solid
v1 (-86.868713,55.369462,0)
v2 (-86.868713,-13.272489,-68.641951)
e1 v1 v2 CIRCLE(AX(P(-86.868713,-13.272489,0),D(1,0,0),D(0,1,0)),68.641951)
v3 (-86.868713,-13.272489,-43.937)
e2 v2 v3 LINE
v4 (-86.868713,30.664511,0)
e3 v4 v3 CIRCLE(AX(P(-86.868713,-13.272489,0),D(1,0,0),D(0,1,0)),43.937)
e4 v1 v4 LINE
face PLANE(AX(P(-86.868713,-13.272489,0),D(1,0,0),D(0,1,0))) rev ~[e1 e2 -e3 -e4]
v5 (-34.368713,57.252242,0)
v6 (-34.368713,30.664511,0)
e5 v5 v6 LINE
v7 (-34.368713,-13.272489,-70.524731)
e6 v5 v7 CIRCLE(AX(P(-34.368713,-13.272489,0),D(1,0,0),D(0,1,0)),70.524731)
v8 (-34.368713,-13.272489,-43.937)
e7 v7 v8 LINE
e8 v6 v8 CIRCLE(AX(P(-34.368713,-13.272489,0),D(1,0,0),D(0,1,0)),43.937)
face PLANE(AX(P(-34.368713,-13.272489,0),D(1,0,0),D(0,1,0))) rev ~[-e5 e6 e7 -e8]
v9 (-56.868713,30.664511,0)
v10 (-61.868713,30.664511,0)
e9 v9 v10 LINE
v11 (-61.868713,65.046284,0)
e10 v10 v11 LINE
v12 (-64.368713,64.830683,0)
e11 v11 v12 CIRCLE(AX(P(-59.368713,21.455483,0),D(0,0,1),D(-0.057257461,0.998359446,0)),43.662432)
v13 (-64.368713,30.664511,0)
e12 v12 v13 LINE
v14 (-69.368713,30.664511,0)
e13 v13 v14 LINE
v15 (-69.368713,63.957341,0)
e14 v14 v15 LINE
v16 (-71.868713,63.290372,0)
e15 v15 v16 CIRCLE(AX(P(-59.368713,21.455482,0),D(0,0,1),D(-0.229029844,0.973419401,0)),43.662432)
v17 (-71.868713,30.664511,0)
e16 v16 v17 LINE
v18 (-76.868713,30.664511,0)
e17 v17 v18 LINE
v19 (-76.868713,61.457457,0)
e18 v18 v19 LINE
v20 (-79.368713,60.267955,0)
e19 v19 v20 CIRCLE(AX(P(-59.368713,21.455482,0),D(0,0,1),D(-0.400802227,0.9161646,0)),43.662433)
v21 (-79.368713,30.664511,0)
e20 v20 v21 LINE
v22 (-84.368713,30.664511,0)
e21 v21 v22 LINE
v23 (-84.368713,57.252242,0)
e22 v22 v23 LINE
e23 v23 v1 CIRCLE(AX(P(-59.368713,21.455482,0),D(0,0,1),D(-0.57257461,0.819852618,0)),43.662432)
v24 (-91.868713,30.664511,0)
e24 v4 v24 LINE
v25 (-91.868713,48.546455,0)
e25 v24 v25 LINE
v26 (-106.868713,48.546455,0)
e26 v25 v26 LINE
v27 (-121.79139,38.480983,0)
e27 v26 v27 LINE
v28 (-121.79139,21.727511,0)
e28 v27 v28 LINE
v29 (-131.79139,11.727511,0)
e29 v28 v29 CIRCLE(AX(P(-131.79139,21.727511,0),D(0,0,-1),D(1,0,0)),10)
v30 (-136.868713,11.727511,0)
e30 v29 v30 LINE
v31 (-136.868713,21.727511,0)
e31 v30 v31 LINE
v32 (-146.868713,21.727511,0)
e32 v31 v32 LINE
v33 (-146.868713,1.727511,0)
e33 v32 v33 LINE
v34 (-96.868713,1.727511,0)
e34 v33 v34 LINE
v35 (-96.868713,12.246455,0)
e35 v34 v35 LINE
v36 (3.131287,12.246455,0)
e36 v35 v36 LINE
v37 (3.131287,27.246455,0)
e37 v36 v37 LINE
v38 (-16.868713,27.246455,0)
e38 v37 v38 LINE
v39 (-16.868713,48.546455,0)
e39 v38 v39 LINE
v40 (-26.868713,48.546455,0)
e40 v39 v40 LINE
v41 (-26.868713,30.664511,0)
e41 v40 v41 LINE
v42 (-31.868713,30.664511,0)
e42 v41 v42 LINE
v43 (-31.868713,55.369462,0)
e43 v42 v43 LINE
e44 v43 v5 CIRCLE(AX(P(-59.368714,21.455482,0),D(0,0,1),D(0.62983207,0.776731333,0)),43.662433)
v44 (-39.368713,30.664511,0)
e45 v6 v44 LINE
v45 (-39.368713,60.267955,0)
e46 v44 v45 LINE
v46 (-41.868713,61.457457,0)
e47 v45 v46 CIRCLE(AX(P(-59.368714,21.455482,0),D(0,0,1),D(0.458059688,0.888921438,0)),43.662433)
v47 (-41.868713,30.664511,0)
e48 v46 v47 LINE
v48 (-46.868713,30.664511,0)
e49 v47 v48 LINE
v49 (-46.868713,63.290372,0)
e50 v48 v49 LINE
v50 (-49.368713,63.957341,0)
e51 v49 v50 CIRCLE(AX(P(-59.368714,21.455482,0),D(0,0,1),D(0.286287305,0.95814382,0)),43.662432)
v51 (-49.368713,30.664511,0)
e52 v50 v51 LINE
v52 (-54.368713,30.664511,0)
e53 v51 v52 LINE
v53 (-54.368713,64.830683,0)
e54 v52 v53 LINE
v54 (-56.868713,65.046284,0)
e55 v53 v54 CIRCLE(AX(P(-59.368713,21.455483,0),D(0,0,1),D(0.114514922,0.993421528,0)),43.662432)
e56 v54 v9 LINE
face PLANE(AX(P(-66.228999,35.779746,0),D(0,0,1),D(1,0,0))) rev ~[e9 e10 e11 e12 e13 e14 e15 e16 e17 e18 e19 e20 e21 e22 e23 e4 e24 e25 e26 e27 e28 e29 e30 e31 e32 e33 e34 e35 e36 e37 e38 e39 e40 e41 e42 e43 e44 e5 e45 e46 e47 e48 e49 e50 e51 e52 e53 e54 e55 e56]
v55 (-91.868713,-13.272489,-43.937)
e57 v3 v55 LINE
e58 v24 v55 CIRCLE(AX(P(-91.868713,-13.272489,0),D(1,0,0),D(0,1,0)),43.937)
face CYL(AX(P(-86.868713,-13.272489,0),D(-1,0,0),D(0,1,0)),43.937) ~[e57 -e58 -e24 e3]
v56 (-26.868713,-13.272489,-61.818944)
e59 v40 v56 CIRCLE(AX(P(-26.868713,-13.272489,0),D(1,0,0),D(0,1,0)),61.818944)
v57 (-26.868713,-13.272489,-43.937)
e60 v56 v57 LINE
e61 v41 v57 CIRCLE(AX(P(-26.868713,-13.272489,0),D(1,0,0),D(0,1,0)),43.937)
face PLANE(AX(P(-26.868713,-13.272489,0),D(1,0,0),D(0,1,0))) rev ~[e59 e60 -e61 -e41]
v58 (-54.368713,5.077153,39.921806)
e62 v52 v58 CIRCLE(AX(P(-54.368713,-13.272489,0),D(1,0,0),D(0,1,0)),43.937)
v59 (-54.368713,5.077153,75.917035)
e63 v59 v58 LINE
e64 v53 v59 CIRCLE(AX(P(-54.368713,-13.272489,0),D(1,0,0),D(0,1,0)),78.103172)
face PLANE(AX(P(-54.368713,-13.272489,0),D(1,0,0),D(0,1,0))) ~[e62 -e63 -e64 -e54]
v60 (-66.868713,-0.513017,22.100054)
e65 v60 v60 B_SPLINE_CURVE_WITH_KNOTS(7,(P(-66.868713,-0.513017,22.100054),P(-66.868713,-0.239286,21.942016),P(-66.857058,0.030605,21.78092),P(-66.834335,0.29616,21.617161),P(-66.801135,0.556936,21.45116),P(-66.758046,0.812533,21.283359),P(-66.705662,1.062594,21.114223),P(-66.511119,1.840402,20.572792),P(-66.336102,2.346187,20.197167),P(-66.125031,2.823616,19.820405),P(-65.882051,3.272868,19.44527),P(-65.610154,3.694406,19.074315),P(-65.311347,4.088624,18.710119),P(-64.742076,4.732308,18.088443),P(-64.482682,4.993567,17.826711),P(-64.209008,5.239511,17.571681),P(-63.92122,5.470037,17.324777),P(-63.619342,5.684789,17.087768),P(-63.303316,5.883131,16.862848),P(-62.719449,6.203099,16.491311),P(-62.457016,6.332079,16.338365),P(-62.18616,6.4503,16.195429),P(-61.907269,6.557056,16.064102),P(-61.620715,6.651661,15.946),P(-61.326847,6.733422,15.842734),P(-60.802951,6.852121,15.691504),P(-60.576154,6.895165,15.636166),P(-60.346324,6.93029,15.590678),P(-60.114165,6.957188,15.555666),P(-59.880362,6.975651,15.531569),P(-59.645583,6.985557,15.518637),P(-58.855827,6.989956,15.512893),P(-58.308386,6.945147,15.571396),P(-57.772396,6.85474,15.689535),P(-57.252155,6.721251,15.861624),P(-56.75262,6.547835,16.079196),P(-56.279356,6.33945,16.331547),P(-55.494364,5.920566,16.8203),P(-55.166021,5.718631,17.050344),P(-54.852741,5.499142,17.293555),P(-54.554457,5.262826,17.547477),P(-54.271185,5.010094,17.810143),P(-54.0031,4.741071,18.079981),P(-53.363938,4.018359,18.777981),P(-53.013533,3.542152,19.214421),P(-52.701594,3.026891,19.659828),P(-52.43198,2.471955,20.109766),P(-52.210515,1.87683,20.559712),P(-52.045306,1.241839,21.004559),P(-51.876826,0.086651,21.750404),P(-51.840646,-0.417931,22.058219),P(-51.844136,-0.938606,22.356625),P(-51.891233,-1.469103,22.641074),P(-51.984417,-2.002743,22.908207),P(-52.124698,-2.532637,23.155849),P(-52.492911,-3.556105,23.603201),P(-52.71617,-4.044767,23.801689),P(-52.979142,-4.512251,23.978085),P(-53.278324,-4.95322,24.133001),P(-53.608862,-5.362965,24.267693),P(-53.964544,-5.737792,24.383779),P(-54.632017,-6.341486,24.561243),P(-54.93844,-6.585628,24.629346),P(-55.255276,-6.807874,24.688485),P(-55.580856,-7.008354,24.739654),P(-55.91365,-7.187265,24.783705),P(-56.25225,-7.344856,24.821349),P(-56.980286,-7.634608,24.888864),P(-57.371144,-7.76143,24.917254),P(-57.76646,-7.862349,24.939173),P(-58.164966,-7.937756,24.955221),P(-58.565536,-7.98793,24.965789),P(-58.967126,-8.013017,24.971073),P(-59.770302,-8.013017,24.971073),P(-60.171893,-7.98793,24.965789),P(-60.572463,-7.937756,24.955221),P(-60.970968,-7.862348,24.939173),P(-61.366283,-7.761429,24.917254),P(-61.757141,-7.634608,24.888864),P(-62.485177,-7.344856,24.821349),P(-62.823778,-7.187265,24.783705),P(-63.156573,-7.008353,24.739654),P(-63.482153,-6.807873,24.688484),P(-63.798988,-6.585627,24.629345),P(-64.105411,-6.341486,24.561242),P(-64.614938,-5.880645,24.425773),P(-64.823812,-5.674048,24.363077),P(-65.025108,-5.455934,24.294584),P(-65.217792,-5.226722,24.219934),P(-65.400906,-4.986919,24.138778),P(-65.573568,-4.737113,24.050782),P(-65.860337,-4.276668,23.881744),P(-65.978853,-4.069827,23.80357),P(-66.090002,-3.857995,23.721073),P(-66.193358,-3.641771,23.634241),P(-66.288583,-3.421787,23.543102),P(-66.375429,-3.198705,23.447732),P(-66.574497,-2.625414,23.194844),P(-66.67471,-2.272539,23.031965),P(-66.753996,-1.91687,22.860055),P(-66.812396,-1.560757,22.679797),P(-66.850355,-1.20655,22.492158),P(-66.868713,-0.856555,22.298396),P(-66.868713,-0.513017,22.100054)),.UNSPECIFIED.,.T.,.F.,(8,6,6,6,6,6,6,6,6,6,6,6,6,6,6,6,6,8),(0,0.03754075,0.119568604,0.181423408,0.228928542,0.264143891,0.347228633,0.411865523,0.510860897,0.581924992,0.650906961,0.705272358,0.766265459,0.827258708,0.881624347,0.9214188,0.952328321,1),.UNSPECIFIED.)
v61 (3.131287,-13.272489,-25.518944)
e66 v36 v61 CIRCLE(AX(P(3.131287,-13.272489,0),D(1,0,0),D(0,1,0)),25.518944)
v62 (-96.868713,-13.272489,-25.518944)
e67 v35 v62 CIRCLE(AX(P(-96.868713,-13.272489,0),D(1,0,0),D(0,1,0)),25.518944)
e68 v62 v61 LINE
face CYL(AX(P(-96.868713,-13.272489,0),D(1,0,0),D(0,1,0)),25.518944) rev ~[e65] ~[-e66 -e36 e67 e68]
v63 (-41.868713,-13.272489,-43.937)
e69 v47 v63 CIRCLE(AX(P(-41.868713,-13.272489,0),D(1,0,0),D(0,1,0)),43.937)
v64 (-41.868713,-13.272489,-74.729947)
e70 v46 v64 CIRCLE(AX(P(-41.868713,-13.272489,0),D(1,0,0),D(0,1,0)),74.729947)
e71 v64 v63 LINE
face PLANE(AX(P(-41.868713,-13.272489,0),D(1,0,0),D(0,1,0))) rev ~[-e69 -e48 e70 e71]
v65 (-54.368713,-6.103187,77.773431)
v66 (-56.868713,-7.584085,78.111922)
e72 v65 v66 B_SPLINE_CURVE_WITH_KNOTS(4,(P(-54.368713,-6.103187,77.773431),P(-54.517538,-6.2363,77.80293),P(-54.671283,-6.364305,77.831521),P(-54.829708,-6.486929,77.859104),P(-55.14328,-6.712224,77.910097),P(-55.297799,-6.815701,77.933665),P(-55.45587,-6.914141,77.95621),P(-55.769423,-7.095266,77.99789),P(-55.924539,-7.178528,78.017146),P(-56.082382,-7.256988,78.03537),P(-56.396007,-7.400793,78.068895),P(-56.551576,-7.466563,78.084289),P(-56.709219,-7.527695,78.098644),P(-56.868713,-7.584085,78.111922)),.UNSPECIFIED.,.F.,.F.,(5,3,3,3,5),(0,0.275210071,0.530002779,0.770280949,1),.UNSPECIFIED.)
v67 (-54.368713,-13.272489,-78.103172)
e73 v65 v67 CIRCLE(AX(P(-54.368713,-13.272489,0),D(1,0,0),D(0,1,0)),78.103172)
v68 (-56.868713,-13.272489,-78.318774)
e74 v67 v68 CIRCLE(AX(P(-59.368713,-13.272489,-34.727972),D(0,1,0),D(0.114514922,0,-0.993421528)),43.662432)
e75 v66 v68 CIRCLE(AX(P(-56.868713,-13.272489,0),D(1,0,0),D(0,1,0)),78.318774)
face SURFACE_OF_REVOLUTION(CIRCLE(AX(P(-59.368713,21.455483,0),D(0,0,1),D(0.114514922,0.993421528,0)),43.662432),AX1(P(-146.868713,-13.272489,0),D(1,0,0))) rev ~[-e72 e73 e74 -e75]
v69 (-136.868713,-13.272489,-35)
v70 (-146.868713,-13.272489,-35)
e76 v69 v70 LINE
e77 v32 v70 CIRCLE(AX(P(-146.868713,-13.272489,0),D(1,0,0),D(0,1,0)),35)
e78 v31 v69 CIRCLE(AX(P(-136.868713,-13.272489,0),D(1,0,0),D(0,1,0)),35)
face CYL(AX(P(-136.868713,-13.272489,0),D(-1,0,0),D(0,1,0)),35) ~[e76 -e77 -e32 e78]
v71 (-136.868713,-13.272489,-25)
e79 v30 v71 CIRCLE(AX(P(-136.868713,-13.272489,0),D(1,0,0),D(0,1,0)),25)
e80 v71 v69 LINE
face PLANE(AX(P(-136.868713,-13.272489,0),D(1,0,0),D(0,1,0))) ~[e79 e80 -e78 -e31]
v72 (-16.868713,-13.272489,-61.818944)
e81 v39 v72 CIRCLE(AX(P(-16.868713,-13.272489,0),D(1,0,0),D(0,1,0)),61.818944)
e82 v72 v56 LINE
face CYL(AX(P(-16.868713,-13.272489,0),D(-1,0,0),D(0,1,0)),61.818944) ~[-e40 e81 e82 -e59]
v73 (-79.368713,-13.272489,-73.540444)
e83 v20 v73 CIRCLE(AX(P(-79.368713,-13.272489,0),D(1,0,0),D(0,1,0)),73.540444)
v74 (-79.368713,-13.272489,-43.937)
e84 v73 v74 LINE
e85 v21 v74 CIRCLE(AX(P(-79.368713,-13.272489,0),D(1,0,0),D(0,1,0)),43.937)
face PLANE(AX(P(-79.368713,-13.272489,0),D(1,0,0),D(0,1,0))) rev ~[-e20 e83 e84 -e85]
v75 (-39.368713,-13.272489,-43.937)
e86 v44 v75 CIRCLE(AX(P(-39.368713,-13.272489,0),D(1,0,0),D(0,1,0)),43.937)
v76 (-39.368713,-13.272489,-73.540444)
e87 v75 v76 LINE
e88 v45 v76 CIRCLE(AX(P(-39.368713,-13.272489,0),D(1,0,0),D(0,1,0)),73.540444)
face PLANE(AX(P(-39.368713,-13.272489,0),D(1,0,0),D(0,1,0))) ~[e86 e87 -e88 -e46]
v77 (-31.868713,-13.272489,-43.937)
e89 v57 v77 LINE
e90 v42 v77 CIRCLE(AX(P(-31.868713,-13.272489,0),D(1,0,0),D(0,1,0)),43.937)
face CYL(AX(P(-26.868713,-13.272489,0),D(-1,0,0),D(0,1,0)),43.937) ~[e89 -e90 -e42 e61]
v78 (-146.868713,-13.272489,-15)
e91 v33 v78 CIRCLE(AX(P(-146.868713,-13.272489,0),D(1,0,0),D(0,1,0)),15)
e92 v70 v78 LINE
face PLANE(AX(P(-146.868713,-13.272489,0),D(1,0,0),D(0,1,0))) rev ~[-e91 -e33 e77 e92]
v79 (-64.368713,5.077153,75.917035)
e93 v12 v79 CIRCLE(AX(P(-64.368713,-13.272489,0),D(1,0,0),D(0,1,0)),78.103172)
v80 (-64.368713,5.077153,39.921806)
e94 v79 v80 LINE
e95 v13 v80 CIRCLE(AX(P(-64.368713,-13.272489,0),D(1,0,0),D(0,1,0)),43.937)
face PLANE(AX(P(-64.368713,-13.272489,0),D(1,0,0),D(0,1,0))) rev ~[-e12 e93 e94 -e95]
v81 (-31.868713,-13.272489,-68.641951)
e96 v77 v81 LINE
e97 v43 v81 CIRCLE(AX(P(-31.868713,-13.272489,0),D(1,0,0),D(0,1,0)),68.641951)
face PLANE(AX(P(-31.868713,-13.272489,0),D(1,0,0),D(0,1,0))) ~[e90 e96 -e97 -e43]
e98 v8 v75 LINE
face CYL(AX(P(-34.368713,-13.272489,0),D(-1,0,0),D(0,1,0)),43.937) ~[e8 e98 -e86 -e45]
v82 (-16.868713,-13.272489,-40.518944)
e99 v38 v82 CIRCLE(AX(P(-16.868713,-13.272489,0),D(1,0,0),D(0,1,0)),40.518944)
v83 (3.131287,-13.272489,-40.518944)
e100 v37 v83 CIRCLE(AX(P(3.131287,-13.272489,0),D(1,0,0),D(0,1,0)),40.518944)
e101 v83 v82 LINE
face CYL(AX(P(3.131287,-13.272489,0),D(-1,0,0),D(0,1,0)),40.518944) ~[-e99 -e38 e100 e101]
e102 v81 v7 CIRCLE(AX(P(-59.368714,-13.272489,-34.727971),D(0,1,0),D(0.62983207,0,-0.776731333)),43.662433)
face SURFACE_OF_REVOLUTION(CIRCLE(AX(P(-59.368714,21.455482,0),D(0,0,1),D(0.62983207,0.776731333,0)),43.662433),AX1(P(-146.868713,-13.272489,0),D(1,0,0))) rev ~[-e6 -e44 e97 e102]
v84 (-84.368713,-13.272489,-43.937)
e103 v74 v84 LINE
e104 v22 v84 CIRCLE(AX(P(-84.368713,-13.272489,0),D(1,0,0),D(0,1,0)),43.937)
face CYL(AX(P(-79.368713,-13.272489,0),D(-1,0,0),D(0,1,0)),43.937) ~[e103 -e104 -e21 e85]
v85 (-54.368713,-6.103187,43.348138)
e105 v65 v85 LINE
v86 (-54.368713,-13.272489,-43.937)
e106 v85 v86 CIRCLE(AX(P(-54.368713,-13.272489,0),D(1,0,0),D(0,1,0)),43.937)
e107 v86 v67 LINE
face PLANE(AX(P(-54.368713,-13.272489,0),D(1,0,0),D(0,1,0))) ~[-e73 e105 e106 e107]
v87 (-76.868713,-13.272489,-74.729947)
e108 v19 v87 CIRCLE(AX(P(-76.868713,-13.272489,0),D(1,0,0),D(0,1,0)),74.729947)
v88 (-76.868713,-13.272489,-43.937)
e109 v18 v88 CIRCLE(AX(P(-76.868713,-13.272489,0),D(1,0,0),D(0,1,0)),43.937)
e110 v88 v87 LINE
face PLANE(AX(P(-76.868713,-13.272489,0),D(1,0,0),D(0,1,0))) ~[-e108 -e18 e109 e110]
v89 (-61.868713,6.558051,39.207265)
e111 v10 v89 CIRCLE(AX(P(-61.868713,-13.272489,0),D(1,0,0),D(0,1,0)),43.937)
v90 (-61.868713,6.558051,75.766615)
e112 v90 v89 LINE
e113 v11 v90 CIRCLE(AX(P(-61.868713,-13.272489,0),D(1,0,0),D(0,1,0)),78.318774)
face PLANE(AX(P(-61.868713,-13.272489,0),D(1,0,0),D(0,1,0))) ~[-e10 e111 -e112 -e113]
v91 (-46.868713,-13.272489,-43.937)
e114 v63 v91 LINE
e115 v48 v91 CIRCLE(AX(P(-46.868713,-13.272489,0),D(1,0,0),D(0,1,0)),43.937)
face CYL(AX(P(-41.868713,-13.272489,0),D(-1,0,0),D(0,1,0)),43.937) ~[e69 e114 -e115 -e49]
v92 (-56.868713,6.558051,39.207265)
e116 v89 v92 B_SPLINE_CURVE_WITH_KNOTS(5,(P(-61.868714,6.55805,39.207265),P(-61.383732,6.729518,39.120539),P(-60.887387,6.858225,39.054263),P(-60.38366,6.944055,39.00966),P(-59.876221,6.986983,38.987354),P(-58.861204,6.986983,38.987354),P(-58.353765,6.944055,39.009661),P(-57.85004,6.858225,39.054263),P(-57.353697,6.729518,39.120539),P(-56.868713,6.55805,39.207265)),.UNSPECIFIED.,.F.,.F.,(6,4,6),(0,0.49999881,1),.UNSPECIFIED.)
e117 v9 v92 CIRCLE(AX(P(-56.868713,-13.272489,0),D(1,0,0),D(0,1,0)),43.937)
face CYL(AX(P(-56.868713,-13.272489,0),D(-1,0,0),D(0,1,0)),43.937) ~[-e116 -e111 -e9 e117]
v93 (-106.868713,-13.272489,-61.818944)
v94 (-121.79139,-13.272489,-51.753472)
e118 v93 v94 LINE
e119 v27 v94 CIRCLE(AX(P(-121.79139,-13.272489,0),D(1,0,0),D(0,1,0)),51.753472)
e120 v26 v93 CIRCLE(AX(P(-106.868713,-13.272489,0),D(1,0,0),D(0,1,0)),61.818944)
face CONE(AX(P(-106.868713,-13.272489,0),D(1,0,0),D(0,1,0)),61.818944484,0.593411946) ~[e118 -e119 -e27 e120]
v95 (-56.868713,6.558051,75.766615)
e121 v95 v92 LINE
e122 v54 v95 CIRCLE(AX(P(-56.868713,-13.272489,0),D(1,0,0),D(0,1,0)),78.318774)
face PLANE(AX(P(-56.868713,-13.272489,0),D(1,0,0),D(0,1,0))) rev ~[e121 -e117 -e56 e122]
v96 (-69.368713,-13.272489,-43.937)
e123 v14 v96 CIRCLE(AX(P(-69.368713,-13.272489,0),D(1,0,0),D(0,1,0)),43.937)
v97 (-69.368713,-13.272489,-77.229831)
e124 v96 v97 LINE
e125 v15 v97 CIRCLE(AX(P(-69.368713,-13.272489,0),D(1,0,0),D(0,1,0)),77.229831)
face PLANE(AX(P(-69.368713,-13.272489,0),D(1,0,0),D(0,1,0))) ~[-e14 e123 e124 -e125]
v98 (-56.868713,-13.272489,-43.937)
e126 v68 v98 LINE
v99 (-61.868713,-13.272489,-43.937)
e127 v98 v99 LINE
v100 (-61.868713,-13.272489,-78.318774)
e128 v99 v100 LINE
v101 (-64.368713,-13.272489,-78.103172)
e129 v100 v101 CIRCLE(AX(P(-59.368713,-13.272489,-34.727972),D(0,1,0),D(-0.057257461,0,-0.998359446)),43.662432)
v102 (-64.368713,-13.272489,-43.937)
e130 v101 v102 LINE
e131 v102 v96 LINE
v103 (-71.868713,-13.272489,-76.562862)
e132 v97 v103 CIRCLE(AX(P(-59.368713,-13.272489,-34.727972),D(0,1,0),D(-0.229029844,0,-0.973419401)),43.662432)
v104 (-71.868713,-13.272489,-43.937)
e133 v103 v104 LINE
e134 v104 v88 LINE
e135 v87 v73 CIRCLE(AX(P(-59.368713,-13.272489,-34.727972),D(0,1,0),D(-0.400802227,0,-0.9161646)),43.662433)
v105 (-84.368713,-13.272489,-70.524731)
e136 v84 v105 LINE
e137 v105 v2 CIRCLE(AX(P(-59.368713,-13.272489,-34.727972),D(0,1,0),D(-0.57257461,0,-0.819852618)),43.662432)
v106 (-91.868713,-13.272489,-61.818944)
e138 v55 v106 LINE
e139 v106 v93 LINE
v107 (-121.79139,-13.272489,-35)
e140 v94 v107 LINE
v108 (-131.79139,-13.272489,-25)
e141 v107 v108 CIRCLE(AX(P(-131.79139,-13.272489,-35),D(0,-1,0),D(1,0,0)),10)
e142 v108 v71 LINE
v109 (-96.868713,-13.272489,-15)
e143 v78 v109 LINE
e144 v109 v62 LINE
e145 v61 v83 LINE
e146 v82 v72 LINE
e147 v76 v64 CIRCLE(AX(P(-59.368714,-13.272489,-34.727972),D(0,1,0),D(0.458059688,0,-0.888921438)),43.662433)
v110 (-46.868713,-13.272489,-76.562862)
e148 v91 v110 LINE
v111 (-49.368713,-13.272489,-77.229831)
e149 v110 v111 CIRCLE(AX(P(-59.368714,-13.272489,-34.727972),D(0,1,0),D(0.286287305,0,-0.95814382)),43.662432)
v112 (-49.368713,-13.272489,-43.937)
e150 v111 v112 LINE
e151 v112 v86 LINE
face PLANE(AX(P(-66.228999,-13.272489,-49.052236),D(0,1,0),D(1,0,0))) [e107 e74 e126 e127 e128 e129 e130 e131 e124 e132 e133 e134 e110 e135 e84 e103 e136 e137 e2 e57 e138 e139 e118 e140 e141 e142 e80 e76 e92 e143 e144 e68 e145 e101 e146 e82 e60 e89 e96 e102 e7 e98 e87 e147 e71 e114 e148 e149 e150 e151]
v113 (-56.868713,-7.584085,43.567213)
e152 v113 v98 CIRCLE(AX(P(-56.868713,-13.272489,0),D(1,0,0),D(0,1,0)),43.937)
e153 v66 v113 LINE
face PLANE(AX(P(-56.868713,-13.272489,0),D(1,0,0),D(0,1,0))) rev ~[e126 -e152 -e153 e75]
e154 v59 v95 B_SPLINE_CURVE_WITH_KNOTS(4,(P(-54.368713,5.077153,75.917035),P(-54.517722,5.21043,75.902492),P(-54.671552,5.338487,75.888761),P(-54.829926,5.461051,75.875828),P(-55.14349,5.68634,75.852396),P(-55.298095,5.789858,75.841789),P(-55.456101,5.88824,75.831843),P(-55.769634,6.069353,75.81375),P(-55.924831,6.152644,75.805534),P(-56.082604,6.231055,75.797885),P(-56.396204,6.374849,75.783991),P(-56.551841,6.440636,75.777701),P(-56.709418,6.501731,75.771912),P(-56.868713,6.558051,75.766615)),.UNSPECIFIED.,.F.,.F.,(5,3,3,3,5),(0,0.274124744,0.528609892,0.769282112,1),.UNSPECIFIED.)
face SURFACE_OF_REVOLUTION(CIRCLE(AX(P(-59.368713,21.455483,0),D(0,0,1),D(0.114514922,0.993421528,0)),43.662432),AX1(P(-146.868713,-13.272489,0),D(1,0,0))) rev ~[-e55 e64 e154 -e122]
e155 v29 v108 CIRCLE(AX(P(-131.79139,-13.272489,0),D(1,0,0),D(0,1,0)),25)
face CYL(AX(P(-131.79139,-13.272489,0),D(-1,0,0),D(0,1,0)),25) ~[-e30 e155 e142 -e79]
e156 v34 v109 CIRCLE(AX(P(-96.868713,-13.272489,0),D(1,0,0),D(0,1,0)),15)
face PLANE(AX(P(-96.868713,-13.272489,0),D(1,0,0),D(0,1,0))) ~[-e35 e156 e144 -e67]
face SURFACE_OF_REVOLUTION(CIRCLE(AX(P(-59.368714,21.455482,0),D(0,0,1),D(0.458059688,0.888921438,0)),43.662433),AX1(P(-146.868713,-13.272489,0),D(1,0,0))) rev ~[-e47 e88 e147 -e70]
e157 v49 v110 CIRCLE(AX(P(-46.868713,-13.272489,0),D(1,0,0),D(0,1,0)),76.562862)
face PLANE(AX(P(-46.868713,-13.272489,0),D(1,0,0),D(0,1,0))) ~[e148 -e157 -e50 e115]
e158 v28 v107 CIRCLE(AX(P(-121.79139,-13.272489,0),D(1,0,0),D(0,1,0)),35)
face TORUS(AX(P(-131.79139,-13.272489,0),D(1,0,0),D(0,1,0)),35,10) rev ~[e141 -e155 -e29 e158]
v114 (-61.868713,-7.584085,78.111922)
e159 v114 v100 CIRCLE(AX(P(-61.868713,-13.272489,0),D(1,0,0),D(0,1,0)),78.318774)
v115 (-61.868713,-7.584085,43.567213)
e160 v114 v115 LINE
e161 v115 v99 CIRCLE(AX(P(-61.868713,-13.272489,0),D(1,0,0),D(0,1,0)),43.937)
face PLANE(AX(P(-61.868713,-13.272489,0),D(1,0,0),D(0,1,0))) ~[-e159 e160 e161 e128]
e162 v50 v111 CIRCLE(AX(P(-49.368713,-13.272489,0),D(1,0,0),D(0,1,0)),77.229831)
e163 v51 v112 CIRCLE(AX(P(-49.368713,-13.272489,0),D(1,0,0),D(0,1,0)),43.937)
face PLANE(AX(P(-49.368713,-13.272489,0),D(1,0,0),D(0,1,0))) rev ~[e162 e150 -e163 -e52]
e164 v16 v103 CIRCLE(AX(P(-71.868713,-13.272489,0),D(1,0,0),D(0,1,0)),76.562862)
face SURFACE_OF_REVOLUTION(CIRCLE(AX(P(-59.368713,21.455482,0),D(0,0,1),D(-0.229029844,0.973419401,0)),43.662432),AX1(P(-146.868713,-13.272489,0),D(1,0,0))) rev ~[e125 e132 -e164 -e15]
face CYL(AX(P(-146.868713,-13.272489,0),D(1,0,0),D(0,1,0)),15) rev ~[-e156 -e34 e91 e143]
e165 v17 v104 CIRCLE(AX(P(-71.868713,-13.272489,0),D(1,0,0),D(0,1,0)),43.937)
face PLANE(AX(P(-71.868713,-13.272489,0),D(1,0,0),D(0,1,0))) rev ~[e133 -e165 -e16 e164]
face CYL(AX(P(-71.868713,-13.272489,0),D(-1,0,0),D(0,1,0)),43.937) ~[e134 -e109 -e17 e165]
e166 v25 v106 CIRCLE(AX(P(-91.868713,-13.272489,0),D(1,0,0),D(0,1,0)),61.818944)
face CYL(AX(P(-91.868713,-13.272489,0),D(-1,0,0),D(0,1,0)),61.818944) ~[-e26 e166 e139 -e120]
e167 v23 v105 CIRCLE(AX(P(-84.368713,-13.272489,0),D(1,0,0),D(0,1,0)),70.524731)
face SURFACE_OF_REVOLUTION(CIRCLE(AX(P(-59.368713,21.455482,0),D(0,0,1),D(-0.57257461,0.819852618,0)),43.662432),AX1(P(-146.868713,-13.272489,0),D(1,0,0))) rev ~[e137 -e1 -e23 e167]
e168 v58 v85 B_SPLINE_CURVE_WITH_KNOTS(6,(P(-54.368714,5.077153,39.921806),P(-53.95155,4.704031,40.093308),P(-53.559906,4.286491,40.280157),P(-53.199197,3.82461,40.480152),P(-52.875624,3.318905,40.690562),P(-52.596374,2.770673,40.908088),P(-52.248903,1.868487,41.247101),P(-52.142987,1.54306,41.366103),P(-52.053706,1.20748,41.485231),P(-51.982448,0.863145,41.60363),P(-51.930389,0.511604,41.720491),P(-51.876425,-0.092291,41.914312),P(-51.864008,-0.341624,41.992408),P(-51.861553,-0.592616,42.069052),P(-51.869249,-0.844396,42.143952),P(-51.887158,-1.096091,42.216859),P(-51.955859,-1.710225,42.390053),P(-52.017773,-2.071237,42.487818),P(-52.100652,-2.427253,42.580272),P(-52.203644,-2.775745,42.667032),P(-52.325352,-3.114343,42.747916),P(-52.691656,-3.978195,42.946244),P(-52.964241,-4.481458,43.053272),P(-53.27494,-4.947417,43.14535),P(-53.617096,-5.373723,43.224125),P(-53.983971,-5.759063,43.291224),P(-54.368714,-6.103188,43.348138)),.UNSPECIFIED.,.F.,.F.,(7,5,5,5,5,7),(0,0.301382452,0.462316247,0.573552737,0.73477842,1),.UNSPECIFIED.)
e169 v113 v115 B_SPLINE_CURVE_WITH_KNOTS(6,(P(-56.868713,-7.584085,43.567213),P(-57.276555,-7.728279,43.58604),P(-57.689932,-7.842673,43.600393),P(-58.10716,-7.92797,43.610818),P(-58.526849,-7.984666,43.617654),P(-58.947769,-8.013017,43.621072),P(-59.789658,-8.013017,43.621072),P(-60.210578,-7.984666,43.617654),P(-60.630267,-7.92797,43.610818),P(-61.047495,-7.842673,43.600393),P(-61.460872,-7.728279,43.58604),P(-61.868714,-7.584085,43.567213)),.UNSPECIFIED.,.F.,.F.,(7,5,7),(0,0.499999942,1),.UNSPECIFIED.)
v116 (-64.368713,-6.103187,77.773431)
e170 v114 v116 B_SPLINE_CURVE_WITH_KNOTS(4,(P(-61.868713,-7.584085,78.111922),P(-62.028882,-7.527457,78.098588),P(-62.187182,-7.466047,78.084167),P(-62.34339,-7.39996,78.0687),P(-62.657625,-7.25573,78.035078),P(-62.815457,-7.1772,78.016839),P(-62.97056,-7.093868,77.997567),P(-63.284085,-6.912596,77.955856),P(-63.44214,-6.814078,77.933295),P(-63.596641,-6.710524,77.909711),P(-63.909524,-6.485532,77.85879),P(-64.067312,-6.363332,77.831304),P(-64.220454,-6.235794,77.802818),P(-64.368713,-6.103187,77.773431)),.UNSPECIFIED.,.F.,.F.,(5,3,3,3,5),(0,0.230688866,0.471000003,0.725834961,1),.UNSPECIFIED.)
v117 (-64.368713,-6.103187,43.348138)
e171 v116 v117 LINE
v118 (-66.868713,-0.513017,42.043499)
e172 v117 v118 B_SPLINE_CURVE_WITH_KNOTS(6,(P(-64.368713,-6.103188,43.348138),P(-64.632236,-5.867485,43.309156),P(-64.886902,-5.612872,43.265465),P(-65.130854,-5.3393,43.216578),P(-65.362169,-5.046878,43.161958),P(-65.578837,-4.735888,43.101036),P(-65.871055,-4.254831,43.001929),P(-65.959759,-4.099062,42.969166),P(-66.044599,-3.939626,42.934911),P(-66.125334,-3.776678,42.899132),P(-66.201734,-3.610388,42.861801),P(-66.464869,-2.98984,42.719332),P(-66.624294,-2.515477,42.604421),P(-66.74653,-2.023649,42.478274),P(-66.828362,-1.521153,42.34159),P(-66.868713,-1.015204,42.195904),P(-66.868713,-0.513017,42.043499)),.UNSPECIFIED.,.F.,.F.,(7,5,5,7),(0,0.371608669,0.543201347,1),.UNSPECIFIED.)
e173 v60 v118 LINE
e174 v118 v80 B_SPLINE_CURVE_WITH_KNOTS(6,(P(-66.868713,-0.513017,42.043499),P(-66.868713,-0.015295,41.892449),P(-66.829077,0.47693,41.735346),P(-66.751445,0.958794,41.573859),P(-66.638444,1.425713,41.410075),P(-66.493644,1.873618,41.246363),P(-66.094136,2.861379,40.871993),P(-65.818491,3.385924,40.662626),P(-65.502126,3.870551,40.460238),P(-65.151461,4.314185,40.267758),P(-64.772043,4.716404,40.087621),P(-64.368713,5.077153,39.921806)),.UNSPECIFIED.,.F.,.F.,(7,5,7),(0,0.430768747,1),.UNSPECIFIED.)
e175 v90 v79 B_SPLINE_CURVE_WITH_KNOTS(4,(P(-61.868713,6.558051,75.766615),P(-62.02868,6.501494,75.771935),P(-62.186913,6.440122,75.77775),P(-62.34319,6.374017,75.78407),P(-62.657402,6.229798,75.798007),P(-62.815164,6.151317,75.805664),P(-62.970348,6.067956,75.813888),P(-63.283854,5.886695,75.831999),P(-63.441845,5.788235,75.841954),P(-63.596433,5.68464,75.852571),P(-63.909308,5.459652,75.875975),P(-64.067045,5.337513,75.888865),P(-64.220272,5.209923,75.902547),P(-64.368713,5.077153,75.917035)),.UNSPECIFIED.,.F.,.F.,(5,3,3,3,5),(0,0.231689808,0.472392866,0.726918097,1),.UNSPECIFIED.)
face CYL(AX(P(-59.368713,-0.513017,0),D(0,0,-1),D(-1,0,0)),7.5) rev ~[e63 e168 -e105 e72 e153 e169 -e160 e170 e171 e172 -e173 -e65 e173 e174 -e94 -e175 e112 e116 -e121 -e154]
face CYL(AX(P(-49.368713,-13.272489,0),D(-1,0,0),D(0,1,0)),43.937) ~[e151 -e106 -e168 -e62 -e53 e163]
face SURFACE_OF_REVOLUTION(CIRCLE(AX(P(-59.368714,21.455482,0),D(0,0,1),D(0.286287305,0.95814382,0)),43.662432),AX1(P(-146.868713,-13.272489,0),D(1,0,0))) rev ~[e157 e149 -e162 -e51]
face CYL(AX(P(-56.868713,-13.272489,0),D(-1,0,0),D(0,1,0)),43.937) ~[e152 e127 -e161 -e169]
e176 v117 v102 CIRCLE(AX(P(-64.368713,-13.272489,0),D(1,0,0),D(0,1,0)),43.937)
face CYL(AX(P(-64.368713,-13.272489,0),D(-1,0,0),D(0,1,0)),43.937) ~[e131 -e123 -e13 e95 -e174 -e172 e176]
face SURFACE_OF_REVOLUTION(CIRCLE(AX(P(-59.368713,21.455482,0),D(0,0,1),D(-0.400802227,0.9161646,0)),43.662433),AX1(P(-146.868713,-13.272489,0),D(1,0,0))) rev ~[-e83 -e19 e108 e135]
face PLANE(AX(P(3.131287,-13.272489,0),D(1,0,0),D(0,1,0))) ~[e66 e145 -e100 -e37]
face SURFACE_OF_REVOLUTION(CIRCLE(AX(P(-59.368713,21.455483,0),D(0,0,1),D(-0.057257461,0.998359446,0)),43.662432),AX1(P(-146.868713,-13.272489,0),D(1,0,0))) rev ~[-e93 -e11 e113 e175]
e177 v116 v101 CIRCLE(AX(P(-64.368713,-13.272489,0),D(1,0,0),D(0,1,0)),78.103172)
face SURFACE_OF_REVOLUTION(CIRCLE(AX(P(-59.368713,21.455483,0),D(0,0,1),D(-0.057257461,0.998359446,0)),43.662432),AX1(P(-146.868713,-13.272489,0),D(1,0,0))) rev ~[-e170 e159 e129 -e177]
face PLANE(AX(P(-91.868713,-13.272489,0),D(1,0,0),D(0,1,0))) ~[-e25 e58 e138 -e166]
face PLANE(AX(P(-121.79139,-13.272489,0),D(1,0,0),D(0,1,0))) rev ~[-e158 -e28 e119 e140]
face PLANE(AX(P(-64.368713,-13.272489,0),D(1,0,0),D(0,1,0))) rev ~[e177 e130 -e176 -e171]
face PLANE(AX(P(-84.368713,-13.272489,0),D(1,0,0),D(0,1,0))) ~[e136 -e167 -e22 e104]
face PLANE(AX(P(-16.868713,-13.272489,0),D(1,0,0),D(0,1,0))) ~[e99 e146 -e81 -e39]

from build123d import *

# Parameters (mm, degrees)
REVOLVE1_ANGLE     = 270
SKETCH11_R         = 7.5
CUT_EXTRUDE1_DEPTH = 103


with BuildPart() as part:
    # Sketch10 → Revolve1 (revolve)
    with BuildSketch(Plane.XY):
        with BuildLine():
            Line((-146.868713488, 1.727510523), (-96.868713488, 1.727510523))
            Line((-96.868713488, 1.727510523), (-96.868713488, 12.246455007))
            Line((-96.868713488, 12.246455007), (3.131286512, 12.246455007))
            Line((3.131286512, 12.246455007), (3.131286512, 27.246455007))
            Line((3.131286512, 27.246455007), (-16.868713488, 27.246455007))
            Line((-16.868713488, 27.246455007), (-16.868713488, 48.546455007))
            Line((-16.868713488, 48.546455007), (-26.868713488, 48.546455007))
            Line((-26.868713488, 48.546455007), (-26.868713488, 30.664510563))
            Line((-26.868713488, 30.664510563), (-31.868713488, 30.664510563))
            Line((-31.868713488, 30.664510563), (-31.868713488, 55.369461788))
            ThreePointArc((-31.868713488, 55.369461788), (-33.10183862, 56.333258752), (-34.368713488, 57.252242021))
            Line((-34.368713488, 57.252242021), (-34.368713488, 30.664510563))
            Line((-34.368713488, 30.664510563), (-39.368713488, 30.664510563))
            Line((-39.368713488, 30.664510563), (-39.368713488, 60.267954644))
            ThreePointArc((-39.368713488, 60.267954644), (-40.609283081, 60.882526075), (-41.868713488, 61.457457384))
            Line((-41.868713488, 61.457457384), (-41.868713488, 30.664510563))
            Line((-41.868713488, 30.664510563), (-46.868713488, 30.664510563))
            Line((-46.868713488, 30.664510563), (-46.868713488, 63.290372193))
            ThreePointArc((-46.868713488, 63.290372193), (-48.113771821, 63.642379564), (-49.368713488, 63.957341236))
            Line((-49.368713488, 63.957341236), (-49.368713488, 30.664510563))
            Line((-49.368713488, 30.664510563), (-54.368713488, 30.664510563))
            Line((-54.368713488, 30.664510563), (-54.368713488, 64.830682747))
            ThreePointArc((-54.368713488, 64.830682747), (-55.617164341, 64.956446576), (-56.868713488, 65.046284243))
            Line((-56.868713488, 65.046284243), (-56.868713488, 30.664510563))
            Line((-56.868713488, 30.664510563), (-61.868713488, 30.664510563))
            Line((-61.868713488, 30.664510563), (-61.868713488, 65.046284243))
            ThreePointArc((-61.868713488, 65.046284243), (-63.120262635, 64.956446576), (-64.368713488, 64.830682747))
            Line((-64.368713488, 64.830682747), (-64.368713488, 30.664510563))
            Line((-64.368713488, 30.664510563), (-69.368713488, 30.664510563))
            Line((-69.368713488, 30.664510563), (-69.368713488, 63.957341236))
            ThreePointArc((-69.368713488, 63.957341236), (-70.623655155, 63.642379564), (-71.868713488, 63.290372193))
            Line((-71.868713488, 63.290372193), (-71.868713488, 30.664510563))
            Line((-71.868713488, 30.664510563), (-76.868713488, 30.664510563))
            Line((-76.868713488, 30.664510563), (-76.868713488, 61.457457384))
            ThreePointArc((-76.868713488, 61.457457384), (-78.128143895, 60.882526075), (-79.368713488, 60.267954644))
            Line((-79.368713488, 60.267954644), (-79.368713488, 30.664510563))
            Line((-79.368713488, 30.664510563), (-84.368713488, 30.664510563))
            Line((-84.368713488, 30.664510563), (-84.368713488, 57.252242021))
            ThreePointArc((-84.368713488, 57.252242021), (-85.635588357, 56.333258752), (-86.868713488, 55.369461788))
            Line((-86.868713488, 55.369461788), (-86.868713488, 30.664510563))
            Line((-86.868713488, 30.664510563), (-91.868713488, 30.664510563))
            Line((-91.868713488, 30.664510563), (-91.868713488, 48.546455007))
            Line((-91.868713488, 48.546455007), (-106.868713488, 48.546455007))
            Line((-106.868713488, 48.546455007), (-121.791389794, 38.480982745))
            Line((-121.791389794, 38.480982745), (-121.791389794, 21.727510523))
            ThreePointArc((-121.791389794, 21.727510523), (-124.720321982, 14.656442711), (-131.791389794, 11.727510523))
            Line((-131.791389794, 11.727510523), (-136.868713488, 11.727510523))
            Line((-136.868713488, 11.727510523), (-136.868713488, 21.727510523))
            Line((-136.868713488, 21.727510523), (-146.868713488, 21.727510523))
            Line((-146.868713488, 21.727510523), (-146.868713488, 1.727510523))
        make_face()
    revolve(axis=Axis((-146.868713488, -13.272489477, 0), (1, 0, 0)), revolution_arc=REVOLVE1_ANGLE)

    # Sketch11 → Cut-Extrude1 (cut)
    with BuildSketch(Plane(origin=(0, 0, 0), x_dir=(-1, 0, 0), z_dir=(0, 0, -1))):
        with Locations((59.368713488, -0.513017235)):
            Circle(SKETCH11_R)
    extrude(amount=-CUT_EXTRUDE1_DEPTH, mode=Mode.SUBTRACT)


solid = part.part
